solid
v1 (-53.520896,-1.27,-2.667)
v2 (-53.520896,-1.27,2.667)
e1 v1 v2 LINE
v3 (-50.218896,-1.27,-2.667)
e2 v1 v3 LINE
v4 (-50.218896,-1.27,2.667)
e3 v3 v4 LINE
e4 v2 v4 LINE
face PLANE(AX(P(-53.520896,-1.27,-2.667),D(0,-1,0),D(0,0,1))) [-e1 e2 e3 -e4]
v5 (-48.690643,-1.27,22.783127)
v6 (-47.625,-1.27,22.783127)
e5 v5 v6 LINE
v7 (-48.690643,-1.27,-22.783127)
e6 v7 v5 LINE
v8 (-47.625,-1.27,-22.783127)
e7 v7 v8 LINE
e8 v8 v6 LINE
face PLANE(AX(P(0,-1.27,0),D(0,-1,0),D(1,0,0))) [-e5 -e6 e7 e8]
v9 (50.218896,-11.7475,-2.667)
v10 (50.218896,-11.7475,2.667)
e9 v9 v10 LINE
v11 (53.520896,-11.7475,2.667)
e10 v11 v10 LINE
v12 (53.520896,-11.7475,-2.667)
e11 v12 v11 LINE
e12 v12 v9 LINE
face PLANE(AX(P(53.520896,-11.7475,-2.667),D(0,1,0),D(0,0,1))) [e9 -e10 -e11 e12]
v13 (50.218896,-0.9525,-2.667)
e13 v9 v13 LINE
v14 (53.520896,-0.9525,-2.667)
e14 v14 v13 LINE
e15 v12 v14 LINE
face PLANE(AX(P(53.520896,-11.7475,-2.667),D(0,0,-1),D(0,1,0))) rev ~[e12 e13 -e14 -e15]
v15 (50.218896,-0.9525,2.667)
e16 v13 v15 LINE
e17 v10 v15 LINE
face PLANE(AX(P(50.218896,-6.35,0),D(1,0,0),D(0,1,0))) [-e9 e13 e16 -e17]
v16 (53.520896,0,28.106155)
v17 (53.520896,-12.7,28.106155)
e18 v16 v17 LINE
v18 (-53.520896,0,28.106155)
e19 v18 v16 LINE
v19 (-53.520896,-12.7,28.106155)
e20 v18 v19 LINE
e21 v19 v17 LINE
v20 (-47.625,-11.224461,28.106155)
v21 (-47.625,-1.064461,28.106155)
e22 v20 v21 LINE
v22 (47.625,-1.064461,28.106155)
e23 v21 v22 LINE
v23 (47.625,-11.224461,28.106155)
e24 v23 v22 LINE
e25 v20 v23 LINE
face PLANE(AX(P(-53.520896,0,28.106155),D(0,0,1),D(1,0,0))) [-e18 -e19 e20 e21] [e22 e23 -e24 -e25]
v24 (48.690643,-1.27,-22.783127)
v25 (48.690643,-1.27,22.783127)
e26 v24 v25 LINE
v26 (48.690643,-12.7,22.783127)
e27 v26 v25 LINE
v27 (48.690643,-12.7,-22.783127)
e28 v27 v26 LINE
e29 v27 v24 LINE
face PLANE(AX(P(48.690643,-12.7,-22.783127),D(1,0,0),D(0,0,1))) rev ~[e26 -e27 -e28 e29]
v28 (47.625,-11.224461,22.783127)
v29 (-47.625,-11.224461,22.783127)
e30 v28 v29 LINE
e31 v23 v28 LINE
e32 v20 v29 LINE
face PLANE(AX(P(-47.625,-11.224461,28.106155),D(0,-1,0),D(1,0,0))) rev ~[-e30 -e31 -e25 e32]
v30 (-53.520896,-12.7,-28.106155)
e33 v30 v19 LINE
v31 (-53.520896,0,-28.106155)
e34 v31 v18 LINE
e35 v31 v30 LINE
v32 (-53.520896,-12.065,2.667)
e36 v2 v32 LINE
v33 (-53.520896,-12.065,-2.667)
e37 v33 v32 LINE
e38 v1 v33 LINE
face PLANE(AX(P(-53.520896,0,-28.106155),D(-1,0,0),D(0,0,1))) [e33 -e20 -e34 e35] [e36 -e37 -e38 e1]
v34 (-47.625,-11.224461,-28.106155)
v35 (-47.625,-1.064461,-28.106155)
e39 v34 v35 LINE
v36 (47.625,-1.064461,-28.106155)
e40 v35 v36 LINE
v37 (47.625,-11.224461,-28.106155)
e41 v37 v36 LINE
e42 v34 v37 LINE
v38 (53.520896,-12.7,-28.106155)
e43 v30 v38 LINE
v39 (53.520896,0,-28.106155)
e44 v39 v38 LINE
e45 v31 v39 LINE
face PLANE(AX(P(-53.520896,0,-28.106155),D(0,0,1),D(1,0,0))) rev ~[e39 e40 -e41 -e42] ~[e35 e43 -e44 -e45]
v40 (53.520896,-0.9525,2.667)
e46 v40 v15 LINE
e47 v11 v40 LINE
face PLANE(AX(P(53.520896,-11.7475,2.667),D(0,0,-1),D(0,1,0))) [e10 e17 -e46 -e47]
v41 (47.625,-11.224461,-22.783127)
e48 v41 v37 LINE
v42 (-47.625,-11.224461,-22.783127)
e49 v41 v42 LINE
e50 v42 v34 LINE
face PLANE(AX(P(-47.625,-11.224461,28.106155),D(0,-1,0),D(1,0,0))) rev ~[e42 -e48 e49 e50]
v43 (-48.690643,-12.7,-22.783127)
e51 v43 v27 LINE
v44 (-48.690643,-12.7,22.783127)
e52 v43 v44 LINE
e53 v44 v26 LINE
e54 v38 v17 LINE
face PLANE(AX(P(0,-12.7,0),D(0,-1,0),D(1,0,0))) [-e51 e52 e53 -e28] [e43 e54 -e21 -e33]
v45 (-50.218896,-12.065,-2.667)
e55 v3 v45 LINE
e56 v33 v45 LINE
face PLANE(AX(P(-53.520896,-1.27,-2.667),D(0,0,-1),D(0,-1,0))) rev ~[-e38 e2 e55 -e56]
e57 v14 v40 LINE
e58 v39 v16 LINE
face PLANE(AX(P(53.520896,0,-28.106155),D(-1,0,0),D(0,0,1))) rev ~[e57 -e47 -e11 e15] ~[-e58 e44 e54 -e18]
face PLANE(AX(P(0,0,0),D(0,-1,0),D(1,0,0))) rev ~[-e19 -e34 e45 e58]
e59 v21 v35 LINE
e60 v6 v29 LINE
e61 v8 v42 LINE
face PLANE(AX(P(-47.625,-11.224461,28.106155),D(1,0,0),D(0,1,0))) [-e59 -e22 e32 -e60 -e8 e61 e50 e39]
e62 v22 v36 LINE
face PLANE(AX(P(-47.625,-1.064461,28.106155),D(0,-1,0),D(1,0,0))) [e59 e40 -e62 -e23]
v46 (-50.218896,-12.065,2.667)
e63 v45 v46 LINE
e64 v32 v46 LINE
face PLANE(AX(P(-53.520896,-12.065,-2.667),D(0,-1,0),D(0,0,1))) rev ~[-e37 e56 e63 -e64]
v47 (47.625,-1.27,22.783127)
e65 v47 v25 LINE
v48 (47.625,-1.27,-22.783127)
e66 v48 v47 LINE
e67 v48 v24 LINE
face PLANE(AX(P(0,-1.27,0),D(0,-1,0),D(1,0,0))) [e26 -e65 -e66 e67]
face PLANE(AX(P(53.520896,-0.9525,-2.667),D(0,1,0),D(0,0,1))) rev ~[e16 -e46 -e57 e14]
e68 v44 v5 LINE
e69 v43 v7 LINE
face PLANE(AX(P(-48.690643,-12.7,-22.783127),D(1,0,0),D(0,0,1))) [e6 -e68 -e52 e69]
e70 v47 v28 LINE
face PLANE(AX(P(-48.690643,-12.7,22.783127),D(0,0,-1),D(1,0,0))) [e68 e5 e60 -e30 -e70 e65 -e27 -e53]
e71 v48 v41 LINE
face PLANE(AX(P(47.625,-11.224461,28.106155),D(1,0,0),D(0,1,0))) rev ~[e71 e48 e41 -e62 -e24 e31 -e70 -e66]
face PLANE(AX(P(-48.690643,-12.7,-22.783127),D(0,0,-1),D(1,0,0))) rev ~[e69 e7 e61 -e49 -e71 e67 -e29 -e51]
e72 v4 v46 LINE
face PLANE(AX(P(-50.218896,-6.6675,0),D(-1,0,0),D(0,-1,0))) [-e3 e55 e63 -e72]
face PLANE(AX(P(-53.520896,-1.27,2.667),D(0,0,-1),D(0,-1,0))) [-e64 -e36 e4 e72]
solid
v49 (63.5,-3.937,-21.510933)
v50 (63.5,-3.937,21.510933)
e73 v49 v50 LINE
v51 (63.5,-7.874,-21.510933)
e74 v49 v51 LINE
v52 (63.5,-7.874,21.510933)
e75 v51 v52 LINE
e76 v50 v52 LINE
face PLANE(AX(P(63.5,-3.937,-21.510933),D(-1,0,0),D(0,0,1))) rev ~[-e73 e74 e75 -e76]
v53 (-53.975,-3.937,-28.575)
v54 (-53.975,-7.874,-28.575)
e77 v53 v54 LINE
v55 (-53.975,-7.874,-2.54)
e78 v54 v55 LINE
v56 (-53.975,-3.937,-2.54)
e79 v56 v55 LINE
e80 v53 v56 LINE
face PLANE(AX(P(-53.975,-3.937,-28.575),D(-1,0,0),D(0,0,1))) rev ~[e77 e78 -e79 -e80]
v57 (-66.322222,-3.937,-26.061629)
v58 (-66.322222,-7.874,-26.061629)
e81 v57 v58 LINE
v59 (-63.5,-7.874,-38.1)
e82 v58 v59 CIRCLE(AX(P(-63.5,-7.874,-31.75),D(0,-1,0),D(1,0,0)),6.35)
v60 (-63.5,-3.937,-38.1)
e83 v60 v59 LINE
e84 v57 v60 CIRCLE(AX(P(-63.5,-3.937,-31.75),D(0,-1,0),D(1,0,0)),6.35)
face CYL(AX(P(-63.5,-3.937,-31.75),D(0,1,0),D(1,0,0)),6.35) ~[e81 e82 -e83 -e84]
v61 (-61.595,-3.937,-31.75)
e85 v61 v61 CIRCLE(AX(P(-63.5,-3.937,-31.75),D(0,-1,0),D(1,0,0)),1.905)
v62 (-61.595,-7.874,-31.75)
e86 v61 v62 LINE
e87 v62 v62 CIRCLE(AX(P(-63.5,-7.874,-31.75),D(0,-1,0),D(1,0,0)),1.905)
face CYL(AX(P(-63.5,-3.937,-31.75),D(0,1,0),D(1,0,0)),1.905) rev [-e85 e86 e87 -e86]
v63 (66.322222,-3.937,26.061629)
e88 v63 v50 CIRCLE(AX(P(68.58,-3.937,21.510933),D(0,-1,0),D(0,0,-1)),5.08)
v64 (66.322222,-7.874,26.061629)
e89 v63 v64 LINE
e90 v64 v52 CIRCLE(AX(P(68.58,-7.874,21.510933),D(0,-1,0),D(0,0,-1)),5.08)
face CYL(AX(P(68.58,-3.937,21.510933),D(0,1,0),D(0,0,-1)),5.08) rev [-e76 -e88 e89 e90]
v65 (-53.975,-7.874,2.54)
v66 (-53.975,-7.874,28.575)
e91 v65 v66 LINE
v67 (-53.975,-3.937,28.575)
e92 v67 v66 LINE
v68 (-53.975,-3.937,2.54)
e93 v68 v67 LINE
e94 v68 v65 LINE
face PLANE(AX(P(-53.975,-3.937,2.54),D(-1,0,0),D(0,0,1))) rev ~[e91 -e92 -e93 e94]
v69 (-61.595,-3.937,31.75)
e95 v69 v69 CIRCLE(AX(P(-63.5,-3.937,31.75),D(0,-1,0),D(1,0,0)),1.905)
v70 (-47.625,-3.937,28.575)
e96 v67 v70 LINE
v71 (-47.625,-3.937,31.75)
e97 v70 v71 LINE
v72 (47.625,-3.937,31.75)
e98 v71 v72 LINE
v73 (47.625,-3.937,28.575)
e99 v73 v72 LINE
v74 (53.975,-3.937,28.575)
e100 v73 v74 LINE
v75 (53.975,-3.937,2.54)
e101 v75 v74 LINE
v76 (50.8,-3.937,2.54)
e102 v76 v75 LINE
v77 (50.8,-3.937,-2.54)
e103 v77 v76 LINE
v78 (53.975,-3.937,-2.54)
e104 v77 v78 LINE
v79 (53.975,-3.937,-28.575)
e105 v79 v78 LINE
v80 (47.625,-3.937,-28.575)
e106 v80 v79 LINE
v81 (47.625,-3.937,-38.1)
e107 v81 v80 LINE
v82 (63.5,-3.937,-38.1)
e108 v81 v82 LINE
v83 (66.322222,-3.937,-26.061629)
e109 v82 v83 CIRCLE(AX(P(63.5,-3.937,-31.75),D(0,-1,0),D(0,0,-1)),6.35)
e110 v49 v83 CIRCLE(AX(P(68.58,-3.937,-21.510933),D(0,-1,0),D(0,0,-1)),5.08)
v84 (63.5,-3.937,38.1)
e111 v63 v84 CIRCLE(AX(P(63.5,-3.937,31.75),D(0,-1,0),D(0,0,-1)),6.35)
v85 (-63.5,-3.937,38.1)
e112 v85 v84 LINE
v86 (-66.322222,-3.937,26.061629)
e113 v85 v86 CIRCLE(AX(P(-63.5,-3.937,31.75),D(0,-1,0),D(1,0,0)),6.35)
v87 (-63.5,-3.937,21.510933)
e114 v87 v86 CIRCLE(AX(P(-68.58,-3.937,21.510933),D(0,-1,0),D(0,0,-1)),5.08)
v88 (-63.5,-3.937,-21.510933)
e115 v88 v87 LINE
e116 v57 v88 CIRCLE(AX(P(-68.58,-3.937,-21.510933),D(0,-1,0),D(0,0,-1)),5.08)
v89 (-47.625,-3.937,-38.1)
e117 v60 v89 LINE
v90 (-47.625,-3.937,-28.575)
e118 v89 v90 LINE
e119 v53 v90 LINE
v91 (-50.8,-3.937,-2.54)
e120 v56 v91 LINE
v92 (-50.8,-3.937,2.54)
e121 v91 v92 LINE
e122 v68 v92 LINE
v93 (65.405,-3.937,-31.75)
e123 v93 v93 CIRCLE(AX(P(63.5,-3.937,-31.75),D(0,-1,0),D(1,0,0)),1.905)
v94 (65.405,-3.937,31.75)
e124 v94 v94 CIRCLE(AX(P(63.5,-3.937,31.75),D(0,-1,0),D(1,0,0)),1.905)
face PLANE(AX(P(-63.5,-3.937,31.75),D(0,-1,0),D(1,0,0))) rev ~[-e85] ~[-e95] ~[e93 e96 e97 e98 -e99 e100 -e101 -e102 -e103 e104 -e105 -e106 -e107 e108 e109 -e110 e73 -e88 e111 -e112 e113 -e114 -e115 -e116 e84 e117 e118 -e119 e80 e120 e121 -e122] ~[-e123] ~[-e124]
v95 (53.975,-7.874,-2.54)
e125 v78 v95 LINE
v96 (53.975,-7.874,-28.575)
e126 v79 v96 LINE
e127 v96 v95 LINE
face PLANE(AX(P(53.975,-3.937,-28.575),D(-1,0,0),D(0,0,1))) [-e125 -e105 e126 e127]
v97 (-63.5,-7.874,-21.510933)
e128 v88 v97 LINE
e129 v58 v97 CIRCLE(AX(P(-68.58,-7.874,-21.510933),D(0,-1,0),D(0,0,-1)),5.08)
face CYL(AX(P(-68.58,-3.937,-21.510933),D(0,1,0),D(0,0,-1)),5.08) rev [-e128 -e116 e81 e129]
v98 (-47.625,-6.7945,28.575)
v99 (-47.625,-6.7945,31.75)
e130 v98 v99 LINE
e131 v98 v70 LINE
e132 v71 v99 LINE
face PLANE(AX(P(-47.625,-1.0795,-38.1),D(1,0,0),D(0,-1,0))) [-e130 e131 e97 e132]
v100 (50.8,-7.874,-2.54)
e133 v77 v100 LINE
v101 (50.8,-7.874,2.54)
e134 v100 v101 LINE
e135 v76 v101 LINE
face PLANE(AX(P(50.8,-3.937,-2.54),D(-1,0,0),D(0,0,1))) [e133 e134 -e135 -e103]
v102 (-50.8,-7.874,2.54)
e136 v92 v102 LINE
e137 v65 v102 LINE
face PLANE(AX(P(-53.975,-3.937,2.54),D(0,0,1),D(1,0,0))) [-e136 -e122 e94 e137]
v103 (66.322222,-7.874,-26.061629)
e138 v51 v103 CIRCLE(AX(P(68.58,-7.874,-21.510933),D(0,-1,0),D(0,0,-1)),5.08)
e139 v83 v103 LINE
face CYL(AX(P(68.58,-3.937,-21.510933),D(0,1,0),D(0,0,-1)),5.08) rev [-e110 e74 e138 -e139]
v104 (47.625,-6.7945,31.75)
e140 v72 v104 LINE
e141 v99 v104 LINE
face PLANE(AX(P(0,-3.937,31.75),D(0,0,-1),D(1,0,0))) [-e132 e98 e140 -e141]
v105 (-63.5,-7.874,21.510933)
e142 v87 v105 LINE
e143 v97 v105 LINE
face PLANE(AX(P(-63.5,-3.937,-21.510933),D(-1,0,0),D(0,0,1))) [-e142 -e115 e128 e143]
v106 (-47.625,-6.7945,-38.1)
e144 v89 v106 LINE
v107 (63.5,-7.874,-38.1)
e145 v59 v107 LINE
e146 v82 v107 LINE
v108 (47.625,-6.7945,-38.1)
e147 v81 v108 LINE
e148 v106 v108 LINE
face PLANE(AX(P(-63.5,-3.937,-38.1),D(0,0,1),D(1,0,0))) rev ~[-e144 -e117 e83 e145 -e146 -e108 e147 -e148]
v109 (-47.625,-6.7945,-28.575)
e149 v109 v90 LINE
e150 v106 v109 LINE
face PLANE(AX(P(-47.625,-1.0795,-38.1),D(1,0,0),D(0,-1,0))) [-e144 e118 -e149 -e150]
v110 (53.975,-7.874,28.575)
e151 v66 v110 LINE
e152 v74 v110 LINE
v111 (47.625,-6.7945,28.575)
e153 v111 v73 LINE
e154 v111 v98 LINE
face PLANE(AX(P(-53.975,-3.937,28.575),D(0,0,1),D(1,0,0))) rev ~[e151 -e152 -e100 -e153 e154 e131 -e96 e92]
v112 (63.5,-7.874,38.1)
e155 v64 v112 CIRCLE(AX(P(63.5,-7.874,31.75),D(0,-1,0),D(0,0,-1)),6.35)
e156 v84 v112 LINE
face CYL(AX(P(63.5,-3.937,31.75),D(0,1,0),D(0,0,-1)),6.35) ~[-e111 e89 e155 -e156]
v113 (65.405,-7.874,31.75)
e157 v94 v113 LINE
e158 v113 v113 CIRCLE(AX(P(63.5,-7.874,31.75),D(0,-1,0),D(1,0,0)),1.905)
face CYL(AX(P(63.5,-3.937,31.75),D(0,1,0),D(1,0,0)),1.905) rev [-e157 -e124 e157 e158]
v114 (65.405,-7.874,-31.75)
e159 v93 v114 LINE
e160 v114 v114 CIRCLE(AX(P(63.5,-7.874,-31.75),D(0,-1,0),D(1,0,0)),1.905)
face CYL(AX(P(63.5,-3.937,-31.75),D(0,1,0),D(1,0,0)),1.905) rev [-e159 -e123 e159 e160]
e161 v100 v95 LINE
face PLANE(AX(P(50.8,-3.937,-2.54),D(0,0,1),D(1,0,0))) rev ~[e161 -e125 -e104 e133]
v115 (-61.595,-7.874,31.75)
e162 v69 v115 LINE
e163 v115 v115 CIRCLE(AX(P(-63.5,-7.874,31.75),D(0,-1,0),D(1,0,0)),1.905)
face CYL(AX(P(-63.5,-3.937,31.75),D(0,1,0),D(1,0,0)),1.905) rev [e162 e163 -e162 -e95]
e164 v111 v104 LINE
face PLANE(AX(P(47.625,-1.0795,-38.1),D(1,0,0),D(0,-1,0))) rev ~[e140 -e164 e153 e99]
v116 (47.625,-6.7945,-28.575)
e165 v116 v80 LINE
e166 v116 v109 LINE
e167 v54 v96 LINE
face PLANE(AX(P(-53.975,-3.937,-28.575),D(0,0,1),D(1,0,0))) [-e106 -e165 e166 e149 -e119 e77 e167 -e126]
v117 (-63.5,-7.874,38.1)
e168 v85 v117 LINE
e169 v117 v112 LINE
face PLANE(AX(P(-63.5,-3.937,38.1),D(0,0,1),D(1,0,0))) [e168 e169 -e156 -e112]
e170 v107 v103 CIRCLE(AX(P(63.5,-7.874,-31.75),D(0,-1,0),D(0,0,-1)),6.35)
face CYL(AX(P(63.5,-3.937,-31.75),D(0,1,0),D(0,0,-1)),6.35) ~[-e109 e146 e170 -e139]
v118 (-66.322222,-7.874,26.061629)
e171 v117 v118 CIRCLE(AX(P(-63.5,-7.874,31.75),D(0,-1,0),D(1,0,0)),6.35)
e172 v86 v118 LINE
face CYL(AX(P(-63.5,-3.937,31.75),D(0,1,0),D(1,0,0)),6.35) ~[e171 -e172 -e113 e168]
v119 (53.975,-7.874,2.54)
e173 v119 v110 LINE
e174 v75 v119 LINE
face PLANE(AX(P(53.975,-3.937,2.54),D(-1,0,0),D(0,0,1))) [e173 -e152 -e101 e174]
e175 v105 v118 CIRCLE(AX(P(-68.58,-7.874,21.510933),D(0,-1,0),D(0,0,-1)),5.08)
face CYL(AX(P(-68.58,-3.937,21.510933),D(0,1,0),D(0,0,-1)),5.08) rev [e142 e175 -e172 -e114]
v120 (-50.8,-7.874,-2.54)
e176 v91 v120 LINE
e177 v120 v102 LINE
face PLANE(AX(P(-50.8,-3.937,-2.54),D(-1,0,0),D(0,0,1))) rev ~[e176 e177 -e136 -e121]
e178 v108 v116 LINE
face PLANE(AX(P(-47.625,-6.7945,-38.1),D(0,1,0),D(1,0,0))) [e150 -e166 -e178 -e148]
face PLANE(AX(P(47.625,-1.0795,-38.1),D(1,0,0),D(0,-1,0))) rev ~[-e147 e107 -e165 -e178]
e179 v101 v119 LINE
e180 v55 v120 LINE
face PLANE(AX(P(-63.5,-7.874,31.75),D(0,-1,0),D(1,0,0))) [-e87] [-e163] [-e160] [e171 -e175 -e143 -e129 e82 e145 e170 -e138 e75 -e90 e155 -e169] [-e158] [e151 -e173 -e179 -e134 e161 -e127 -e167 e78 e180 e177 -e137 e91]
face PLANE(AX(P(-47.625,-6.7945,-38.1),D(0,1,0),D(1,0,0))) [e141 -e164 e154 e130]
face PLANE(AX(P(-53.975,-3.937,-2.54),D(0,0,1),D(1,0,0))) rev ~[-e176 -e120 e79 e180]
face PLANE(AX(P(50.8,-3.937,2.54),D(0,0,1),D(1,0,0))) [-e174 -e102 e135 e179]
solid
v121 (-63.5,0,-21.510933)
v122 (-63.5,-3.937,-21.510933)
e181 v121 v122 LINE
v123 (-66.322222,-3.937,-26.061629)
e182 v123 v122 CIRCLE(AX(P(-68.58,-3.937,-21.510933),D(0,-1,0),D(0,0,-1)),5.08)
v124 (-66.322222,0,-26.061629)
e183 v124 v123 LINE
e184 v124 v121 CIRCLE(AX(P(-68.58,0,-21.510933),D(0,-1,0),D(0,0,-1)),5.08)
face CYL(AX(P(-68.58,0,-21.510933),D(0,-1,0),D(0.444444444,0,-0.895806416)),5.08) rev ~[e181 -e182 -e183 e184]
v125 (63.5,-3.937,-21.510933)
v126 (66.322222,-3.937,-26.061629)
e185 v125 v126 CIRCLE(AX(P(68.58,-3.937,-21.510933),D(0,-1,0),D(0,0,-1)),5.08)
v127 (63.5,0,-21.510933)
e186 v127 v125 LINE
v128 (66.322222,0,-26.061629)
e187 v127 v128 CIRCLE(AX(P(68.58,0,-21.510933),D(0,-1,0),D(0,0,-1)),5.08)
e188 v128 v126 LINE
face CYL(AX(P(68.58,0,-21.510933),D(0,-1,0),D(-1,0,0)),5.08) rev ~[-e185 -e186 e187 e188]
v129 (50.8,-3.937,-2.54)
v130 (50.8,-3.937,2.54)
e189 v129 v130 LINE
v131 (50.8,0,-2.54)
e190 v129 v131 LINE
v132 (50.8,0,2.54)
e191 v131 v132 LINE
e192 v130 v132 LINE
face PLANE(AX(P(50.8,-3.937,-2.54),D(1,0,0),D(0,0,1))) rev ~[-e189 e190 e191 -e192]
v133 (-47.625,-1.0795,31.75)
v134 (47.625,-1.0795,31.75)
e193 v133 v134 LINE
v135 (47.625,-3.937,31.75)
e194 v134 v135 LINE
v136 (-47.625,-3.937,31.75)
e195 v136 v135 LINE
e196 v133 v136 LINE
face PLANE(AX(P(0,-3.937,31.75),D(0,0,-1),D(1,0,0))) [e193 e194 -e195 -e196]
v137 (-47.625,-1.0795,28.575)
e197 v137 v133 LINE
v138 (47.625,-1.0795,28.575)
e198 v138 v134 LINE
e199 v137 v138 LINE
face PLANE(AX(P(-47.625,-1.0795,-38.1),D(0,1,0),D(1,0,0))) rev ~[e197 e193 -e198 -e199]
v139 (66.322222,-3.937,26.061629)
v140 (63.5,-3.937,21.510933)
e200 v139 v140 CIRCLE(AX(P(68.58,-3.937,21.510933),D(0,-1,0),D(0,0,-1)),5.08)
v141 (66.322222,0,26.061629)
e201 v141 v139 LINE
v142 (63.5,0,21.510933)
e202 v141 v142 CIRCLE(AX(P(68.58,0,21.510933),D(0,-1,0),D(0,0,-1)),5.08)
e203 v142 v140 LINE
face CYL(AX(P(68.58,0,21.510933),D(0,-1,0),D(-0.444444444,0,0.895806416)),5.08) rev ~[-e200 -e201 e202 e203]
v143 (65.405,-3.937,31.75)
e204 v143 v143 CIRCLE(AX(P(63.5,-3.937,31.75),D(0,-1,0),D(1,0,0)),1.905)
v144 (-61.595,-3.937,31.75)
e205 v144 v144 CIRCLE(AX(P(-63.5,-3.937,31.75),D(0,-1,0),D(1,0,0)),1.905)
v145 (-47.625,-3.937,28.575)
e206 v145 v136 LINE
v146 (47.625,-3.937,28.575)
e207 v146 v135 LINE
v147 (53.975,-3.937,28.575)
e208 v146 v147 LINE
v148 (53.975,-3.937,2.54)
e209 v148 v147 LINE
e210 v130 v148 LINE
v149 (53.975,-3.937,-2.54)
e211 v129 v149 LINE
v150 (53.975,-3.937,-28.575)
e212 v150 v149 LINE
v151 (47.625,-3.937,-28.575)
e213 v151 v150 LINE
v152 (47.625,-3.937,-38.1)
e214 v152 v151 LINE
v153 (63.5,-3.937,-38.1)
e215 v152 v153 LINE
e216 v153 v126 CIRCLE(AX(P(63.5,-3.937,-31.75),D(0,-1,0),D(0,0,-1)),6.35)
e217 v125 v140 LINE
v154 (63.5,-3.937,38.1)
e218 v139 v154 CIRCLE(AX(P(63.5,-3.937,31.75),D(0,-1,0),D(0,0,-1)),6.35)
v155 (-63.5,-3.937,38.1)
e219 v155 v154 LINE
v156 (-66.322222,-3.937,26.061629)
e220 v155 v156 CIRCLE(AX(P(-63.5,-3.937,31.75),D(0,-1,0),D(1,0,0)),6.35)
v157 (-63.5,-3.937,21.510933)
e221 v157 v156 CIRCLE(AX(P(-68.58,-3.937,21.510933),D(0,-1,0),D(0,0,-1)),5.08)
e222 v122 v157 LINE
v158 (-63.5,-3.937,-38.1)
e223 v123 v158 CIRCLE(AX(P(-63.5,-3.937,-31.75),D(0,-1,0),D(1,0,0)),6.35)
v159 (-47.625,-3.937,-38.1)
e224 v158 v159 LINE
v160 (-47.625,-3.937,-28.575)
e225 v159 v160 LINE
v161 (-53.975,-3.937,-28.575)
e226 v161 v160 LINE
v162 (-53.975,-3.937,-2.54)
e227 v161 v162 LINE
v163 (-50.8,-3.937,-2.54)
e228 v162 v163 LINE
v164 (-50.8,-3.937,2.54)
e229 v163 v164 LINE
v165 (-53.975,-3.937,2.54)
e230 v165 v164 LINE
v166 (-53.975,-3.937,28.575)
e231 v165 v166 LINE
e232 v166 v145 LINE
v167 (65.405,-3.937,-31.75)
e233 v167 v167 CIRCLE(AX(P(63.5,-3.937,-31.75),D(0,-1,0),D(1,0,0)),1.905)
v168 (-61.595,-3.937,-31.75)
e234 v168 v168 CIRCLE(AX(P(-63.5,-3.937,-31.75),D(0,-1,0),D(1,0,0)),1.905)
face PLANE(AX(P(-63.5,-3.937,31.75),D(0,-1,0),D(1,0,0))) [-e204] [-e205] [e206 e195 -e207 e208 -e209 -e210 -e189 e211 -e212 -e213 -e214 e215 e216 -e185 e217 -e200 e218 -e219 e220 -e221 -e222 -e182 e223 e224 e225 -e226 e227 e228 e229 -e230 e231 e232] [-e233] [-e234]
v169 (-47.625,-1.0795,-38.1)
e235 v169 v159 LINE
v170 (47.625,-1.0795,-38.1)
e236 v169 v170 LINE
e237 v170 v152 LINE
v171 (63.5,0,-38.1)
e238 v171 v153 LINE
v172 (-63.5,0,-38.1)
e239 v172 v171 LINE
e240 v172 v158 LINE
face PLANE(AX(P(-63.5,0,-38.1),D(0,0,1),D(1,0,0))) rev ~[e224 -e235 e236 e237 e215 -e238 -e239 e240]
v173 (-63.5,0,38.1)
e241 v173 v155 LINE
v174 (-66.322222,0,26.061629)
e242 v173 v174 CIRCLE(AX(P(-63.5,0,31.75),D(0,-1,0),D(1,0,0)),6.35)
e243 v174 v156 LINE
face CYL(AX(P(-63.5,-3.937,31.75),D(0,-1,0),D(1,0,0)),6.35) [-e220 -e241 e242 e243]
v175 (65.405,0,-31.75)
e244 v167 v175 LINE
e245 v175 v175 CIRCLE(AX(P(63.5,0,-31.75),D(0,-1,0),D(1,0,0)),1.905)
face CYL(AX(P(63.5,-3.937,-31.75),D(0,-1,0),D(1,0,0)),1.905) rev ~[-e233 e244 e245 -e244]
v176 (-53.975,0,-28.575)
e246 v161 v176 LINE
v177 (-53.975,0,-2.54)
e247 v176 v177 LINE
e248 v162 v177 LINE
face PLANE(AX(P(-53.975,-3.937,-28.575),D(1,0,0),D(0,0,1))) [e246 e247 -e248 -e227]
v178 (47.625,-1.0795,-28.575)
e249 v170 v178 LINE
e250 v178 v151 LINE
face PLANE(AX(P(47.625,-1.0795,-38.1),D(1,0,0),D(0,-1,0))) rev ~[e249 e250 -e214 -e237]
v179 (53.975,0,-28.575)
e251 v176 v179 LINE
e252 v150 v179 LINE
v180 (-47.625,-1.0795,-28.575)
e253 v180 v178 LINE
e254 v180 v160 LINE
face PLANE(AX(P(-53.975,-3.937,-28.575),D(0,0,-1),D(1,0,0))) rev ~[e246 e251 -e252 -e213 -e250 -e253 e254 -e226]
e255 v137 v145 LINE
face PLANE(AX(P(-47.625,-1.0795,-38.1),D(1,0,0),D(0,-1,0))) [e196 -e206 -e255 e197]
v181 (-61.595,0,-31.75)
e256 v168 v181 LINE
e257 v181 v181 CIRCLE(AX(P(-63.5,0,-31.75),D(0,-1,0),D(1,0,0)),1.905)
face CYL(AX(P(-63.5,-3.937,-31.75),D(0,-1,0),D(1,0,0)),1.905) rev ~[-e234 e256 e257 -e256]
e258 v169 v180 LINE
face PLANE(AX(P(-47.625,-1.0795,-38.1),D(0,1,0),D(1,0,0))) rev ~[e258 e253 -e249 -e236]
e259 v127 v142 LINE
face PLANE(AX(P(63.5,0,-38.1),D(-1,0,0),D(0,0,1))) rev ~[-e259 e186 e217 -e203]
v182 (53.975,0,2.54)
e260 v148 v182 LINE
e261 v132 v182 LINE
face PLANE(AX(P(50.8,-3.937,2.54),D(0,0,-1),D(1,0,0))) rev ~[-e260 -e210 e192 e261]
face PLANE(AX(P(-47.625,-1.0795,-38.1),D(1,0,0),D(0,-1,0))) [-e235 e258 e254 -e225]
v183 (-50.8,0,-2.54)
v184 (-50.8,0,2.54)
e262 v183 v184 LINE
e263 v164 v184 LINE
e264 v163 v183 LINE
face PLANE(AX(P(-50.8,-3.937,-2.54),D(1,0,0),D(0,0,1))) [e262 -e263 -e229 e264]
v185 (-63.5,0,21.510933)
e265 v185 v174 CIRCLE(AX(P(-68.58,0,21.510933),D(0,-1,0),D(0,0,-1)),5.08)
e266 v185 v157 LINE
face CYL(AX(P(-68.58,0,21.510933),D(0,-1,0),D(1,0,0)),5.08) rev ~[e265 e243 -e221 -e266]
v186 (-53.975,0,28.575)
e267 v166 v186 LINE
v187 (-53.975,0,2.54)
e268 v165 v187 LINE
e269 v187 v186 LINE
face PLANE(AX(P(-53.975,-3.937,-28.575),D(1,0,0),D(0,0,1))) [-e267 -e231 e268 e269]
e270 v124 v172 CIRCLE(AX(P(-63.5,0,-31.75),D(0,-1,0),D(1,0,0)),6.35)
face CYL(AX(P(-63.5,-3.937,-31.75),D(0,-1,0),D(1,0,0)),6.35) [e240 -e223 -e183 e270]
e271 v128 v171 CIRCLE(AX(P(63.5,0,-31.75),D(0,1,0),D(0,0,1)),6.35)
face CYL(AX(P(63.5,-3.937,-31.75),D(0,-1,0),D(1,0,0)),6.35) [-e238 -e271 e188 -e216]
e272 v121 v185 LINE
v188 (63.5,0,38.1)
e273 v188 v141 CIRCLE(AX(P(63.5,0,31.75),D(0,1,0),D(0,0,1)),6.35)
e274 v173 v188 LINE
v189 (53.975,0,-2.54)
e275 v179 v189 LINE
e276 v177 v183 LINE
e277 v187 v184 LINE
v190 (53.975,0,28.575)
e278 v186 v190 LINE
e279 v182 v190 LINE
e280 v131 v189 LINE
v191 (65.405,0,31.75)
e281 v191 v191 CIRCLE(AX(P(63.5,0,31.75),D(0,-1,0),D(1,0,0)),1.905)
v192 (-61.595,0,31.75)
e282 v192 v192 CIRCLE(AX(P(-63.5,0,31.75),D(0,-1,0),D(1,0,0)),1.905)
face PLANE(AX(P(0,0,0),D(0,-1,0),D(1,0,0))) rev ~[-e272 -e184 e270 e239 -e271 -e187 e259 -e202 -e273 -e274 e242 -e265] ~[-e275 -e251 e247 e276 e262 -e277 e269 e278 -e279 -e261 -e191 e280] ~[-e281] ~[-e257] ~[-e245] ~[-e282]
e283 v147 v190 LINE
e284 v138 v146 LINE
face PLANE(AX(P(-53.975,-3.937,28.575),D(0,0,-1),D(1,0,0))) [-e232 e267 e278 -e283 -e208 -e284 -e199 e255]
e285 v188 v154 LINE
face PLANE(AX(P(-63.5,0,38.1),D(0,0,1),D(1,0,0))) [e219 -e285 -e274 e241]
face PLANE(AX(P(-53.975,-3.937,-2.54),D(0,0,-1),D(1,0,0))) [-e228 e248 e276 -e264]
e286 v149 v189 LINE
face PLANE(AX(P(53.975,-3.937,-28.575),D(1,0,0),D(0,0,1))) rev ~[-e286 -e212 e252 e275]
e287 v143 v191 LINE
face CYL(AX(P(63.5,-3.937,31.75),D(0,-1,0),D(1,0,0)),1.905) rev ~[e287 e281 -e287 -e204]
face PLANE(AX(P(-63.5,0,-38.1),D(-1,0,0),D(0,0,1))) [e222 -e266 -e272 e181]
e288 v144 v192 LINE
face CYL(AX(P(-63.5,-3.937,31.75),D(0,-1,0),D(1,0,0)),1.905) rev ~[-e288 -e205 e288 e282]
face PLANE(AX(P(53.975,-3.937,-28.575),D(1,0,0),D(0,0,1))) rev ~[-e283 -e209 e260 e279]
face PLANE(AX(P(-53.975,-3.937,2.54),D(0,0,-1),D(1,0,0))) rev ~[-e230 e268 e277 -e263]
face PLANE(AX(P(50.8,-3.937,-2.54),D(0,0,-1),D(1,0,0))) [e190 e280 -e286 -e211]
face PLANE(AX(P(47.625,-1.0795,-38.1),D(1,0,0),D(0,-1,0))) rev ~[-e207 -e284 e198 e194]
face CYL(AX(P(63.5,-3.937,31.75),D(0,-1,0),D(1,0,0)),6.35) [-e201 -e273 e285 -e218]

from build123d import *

# Parameters (mm, degrees)
F0_W      = 127
F0_H      = 76.2
F1_DEPTH  = 3.937
F2_W      = 107.95
F2_H      = 57.15
F3_DEPTH  = 25.4
F4_R      = 6.35
F5_DEPTH  = 3.937
F6_R      = 5.08
F7_R      = 1.905
F8_DEPTH  = 25.4
F9_W      = 3.175
F9_H      = 5.08
F10_DEPTH = 3.937
F11_DEPTH = 3.937
F12_W     = 95.25
F12_H     = 5.715
F13_DEPTH = 69.85
F14_W     = 107.0417910814
F14_H     = 56.2123097479
F15_DEPTH = 12.7
F16_W     = 97.3812863231
F16_H     = 45.5662533641
F17_DEPTH = 11.43
F18_W     = 95.25
F18_H     = 10.16
F19_DEPTH = 65.278
F20_W     = 10.795
F20_H     = 5.334
F21_DEPTH = 3.302
F22_W     = 10.795
F22_H     = 5.334
F23_DEPTH = 3.302


with BuildPart() as f1:
    # F0 (on Front) → F1 (new body)
    with BuildSketch(Plane.XZ):
        Rectangle(F0_W, F0_H)
    extrude(amount=F1_DEPTH)

    # F2 (on face) → F3 (cut)
    with BuildSketch(Plane.XZ.offset(3.937)):
        Rectangle(F2_W, F2_H)
    extrude(amount=-F3_DEPTH, mode=Mode.SUBTRACT)

    # F4 (on face) → F5 (join)
    with BuildSketch(Plane.XZ.offset(3.937)):
        with Locations((-63.5, 31.75)):
            Circle(F4_R)
        with Locations((63.5, 31.75)):
            Circle(F4_R)
        with Locations((-63.5, -31.75)):
            Circle(F4_R)
        with Locations((63.5, -31.75)):
            Circle(F4_R)
    extrude(amount=-F5_DEPTH)

    # F6
    f6_edges = [f1.edges().sort_by_distance(p)[0] for p in [
        (-63.5, -1.9685, 25.4),
        (-63.5, -1.9685, -25.4),
        (63.5, -1.9685, 25.4),
        (63.5, -1.9685, -25.4),
    ]]
    fillet(f6_edges, radius=F6_R)

    # F7 (on face) → F8 (cut)
    with BuildSketch(Plane.XZ.offset(3.937)):
        with Locations((-63.5, 31.75)):
            Circle(F7_R)
        with Locations((-63.5, -31.75)):
            Circle(F7_R)
        with Locations((63.5, -31.75)):
            Circle(F7_R)
        with Locations((63.5, 31.75)):
            Circle(F7_R)
    extrude(amount=-F8_DEPTH, mode=Mode.SUBTRACT)

    # F9 (on face) → F10 (join)
    with BuildSketch(Plane.XZ.offset(3.937)):
        with Locations((-52.3875, 0)):
            Rectangle(F9_W, F9_H)
        with Locations((52.3875, 0)):
            Rectangle(F9_W, F9_H)
    extrude(amount=-F10_DEPTH)


with BuildPart() as f11:
    # F11 (new): a face of the model
    f11_faces = [f1.part.faces().sort_by_distance(p)[0] for p in [
        (-61.9086945611, -3.937, 0),
    ]]
    extrude(f11_faces, amount=F11_DEPTH)


with BuildPart() as f13_tool:
    # F12 (on face) → F13 (new body)
    with BuildSketch(Plane(origin=(0, 0, -38.1), x_dir=(1, 0, 0), z_dir=(0, 0, -1))):
        with Locations((0, 3.937)):
            Rectangle(F12_W, F12_H)
    extrude(amount=-F13_DEPTH)


with BuildPart() as f1_1:
    add(f1.part)

    # F13: cut by f13_tool
    add(f13_tool.part, mode=Mode.SUBTRACT)


with BuildPart() as f11_1:
    add(f11.part)

    # F13: cut by f13_tool
    add(f13_tool.part, mode=Mode.SUBTRACT)


with BuildPart() as f15:
    # F14 (on Front) → F15 (new body)
    with BuildSketch(Plane.XZ):
        Rectangle(F14_W, F14_H)
    extrude(amount=F15_DEPTH)

    # F16 (on face) → F17 (cut)
    with BuildSketch(Plane.XZ.offset(12.7)):
        Rectangle(F16_W, F16_H)
    extrude(amount=-F17_DEPTH, mode=Mode.SUBTRACT)

    # F18 (on face) → F19 (cut)
    with BuildSketch(Plane.XY.offset(28.106154874)):
        with Locations((0, -6.1444608298)):
            Rectangle(F18_W, F18_H)
    extrude(amount=-F19_DEPTH, mode=Mode.SUBTRACT)

    # F20 (on face) → F21 (cut)
    with BuildSketch(Plane.YZ.offset(53.5208955407)):
        with Locations((-6.35, 0)):
            Rectangle(F20_W, F20_H)
    extrude(amount=-F21_DEPTH, mode=Mode.SUBTRACT)

    # F22 (on face) → F23 (cut)
    with BuildSketch(Plane(origin=(-53.5208955407, 0, 0), x_dir=(0, -1, 0), z_dir=(-1, 0, 0))):
        with Locations((6.6675, 0)):
            Rectangle(F22_W, F22_H)
    extrude(amount=-F23_DEPTH, mode=Mode.SUBTRACT)


solid = Compound([f1_1.part, f11_1.part, f15.part])
